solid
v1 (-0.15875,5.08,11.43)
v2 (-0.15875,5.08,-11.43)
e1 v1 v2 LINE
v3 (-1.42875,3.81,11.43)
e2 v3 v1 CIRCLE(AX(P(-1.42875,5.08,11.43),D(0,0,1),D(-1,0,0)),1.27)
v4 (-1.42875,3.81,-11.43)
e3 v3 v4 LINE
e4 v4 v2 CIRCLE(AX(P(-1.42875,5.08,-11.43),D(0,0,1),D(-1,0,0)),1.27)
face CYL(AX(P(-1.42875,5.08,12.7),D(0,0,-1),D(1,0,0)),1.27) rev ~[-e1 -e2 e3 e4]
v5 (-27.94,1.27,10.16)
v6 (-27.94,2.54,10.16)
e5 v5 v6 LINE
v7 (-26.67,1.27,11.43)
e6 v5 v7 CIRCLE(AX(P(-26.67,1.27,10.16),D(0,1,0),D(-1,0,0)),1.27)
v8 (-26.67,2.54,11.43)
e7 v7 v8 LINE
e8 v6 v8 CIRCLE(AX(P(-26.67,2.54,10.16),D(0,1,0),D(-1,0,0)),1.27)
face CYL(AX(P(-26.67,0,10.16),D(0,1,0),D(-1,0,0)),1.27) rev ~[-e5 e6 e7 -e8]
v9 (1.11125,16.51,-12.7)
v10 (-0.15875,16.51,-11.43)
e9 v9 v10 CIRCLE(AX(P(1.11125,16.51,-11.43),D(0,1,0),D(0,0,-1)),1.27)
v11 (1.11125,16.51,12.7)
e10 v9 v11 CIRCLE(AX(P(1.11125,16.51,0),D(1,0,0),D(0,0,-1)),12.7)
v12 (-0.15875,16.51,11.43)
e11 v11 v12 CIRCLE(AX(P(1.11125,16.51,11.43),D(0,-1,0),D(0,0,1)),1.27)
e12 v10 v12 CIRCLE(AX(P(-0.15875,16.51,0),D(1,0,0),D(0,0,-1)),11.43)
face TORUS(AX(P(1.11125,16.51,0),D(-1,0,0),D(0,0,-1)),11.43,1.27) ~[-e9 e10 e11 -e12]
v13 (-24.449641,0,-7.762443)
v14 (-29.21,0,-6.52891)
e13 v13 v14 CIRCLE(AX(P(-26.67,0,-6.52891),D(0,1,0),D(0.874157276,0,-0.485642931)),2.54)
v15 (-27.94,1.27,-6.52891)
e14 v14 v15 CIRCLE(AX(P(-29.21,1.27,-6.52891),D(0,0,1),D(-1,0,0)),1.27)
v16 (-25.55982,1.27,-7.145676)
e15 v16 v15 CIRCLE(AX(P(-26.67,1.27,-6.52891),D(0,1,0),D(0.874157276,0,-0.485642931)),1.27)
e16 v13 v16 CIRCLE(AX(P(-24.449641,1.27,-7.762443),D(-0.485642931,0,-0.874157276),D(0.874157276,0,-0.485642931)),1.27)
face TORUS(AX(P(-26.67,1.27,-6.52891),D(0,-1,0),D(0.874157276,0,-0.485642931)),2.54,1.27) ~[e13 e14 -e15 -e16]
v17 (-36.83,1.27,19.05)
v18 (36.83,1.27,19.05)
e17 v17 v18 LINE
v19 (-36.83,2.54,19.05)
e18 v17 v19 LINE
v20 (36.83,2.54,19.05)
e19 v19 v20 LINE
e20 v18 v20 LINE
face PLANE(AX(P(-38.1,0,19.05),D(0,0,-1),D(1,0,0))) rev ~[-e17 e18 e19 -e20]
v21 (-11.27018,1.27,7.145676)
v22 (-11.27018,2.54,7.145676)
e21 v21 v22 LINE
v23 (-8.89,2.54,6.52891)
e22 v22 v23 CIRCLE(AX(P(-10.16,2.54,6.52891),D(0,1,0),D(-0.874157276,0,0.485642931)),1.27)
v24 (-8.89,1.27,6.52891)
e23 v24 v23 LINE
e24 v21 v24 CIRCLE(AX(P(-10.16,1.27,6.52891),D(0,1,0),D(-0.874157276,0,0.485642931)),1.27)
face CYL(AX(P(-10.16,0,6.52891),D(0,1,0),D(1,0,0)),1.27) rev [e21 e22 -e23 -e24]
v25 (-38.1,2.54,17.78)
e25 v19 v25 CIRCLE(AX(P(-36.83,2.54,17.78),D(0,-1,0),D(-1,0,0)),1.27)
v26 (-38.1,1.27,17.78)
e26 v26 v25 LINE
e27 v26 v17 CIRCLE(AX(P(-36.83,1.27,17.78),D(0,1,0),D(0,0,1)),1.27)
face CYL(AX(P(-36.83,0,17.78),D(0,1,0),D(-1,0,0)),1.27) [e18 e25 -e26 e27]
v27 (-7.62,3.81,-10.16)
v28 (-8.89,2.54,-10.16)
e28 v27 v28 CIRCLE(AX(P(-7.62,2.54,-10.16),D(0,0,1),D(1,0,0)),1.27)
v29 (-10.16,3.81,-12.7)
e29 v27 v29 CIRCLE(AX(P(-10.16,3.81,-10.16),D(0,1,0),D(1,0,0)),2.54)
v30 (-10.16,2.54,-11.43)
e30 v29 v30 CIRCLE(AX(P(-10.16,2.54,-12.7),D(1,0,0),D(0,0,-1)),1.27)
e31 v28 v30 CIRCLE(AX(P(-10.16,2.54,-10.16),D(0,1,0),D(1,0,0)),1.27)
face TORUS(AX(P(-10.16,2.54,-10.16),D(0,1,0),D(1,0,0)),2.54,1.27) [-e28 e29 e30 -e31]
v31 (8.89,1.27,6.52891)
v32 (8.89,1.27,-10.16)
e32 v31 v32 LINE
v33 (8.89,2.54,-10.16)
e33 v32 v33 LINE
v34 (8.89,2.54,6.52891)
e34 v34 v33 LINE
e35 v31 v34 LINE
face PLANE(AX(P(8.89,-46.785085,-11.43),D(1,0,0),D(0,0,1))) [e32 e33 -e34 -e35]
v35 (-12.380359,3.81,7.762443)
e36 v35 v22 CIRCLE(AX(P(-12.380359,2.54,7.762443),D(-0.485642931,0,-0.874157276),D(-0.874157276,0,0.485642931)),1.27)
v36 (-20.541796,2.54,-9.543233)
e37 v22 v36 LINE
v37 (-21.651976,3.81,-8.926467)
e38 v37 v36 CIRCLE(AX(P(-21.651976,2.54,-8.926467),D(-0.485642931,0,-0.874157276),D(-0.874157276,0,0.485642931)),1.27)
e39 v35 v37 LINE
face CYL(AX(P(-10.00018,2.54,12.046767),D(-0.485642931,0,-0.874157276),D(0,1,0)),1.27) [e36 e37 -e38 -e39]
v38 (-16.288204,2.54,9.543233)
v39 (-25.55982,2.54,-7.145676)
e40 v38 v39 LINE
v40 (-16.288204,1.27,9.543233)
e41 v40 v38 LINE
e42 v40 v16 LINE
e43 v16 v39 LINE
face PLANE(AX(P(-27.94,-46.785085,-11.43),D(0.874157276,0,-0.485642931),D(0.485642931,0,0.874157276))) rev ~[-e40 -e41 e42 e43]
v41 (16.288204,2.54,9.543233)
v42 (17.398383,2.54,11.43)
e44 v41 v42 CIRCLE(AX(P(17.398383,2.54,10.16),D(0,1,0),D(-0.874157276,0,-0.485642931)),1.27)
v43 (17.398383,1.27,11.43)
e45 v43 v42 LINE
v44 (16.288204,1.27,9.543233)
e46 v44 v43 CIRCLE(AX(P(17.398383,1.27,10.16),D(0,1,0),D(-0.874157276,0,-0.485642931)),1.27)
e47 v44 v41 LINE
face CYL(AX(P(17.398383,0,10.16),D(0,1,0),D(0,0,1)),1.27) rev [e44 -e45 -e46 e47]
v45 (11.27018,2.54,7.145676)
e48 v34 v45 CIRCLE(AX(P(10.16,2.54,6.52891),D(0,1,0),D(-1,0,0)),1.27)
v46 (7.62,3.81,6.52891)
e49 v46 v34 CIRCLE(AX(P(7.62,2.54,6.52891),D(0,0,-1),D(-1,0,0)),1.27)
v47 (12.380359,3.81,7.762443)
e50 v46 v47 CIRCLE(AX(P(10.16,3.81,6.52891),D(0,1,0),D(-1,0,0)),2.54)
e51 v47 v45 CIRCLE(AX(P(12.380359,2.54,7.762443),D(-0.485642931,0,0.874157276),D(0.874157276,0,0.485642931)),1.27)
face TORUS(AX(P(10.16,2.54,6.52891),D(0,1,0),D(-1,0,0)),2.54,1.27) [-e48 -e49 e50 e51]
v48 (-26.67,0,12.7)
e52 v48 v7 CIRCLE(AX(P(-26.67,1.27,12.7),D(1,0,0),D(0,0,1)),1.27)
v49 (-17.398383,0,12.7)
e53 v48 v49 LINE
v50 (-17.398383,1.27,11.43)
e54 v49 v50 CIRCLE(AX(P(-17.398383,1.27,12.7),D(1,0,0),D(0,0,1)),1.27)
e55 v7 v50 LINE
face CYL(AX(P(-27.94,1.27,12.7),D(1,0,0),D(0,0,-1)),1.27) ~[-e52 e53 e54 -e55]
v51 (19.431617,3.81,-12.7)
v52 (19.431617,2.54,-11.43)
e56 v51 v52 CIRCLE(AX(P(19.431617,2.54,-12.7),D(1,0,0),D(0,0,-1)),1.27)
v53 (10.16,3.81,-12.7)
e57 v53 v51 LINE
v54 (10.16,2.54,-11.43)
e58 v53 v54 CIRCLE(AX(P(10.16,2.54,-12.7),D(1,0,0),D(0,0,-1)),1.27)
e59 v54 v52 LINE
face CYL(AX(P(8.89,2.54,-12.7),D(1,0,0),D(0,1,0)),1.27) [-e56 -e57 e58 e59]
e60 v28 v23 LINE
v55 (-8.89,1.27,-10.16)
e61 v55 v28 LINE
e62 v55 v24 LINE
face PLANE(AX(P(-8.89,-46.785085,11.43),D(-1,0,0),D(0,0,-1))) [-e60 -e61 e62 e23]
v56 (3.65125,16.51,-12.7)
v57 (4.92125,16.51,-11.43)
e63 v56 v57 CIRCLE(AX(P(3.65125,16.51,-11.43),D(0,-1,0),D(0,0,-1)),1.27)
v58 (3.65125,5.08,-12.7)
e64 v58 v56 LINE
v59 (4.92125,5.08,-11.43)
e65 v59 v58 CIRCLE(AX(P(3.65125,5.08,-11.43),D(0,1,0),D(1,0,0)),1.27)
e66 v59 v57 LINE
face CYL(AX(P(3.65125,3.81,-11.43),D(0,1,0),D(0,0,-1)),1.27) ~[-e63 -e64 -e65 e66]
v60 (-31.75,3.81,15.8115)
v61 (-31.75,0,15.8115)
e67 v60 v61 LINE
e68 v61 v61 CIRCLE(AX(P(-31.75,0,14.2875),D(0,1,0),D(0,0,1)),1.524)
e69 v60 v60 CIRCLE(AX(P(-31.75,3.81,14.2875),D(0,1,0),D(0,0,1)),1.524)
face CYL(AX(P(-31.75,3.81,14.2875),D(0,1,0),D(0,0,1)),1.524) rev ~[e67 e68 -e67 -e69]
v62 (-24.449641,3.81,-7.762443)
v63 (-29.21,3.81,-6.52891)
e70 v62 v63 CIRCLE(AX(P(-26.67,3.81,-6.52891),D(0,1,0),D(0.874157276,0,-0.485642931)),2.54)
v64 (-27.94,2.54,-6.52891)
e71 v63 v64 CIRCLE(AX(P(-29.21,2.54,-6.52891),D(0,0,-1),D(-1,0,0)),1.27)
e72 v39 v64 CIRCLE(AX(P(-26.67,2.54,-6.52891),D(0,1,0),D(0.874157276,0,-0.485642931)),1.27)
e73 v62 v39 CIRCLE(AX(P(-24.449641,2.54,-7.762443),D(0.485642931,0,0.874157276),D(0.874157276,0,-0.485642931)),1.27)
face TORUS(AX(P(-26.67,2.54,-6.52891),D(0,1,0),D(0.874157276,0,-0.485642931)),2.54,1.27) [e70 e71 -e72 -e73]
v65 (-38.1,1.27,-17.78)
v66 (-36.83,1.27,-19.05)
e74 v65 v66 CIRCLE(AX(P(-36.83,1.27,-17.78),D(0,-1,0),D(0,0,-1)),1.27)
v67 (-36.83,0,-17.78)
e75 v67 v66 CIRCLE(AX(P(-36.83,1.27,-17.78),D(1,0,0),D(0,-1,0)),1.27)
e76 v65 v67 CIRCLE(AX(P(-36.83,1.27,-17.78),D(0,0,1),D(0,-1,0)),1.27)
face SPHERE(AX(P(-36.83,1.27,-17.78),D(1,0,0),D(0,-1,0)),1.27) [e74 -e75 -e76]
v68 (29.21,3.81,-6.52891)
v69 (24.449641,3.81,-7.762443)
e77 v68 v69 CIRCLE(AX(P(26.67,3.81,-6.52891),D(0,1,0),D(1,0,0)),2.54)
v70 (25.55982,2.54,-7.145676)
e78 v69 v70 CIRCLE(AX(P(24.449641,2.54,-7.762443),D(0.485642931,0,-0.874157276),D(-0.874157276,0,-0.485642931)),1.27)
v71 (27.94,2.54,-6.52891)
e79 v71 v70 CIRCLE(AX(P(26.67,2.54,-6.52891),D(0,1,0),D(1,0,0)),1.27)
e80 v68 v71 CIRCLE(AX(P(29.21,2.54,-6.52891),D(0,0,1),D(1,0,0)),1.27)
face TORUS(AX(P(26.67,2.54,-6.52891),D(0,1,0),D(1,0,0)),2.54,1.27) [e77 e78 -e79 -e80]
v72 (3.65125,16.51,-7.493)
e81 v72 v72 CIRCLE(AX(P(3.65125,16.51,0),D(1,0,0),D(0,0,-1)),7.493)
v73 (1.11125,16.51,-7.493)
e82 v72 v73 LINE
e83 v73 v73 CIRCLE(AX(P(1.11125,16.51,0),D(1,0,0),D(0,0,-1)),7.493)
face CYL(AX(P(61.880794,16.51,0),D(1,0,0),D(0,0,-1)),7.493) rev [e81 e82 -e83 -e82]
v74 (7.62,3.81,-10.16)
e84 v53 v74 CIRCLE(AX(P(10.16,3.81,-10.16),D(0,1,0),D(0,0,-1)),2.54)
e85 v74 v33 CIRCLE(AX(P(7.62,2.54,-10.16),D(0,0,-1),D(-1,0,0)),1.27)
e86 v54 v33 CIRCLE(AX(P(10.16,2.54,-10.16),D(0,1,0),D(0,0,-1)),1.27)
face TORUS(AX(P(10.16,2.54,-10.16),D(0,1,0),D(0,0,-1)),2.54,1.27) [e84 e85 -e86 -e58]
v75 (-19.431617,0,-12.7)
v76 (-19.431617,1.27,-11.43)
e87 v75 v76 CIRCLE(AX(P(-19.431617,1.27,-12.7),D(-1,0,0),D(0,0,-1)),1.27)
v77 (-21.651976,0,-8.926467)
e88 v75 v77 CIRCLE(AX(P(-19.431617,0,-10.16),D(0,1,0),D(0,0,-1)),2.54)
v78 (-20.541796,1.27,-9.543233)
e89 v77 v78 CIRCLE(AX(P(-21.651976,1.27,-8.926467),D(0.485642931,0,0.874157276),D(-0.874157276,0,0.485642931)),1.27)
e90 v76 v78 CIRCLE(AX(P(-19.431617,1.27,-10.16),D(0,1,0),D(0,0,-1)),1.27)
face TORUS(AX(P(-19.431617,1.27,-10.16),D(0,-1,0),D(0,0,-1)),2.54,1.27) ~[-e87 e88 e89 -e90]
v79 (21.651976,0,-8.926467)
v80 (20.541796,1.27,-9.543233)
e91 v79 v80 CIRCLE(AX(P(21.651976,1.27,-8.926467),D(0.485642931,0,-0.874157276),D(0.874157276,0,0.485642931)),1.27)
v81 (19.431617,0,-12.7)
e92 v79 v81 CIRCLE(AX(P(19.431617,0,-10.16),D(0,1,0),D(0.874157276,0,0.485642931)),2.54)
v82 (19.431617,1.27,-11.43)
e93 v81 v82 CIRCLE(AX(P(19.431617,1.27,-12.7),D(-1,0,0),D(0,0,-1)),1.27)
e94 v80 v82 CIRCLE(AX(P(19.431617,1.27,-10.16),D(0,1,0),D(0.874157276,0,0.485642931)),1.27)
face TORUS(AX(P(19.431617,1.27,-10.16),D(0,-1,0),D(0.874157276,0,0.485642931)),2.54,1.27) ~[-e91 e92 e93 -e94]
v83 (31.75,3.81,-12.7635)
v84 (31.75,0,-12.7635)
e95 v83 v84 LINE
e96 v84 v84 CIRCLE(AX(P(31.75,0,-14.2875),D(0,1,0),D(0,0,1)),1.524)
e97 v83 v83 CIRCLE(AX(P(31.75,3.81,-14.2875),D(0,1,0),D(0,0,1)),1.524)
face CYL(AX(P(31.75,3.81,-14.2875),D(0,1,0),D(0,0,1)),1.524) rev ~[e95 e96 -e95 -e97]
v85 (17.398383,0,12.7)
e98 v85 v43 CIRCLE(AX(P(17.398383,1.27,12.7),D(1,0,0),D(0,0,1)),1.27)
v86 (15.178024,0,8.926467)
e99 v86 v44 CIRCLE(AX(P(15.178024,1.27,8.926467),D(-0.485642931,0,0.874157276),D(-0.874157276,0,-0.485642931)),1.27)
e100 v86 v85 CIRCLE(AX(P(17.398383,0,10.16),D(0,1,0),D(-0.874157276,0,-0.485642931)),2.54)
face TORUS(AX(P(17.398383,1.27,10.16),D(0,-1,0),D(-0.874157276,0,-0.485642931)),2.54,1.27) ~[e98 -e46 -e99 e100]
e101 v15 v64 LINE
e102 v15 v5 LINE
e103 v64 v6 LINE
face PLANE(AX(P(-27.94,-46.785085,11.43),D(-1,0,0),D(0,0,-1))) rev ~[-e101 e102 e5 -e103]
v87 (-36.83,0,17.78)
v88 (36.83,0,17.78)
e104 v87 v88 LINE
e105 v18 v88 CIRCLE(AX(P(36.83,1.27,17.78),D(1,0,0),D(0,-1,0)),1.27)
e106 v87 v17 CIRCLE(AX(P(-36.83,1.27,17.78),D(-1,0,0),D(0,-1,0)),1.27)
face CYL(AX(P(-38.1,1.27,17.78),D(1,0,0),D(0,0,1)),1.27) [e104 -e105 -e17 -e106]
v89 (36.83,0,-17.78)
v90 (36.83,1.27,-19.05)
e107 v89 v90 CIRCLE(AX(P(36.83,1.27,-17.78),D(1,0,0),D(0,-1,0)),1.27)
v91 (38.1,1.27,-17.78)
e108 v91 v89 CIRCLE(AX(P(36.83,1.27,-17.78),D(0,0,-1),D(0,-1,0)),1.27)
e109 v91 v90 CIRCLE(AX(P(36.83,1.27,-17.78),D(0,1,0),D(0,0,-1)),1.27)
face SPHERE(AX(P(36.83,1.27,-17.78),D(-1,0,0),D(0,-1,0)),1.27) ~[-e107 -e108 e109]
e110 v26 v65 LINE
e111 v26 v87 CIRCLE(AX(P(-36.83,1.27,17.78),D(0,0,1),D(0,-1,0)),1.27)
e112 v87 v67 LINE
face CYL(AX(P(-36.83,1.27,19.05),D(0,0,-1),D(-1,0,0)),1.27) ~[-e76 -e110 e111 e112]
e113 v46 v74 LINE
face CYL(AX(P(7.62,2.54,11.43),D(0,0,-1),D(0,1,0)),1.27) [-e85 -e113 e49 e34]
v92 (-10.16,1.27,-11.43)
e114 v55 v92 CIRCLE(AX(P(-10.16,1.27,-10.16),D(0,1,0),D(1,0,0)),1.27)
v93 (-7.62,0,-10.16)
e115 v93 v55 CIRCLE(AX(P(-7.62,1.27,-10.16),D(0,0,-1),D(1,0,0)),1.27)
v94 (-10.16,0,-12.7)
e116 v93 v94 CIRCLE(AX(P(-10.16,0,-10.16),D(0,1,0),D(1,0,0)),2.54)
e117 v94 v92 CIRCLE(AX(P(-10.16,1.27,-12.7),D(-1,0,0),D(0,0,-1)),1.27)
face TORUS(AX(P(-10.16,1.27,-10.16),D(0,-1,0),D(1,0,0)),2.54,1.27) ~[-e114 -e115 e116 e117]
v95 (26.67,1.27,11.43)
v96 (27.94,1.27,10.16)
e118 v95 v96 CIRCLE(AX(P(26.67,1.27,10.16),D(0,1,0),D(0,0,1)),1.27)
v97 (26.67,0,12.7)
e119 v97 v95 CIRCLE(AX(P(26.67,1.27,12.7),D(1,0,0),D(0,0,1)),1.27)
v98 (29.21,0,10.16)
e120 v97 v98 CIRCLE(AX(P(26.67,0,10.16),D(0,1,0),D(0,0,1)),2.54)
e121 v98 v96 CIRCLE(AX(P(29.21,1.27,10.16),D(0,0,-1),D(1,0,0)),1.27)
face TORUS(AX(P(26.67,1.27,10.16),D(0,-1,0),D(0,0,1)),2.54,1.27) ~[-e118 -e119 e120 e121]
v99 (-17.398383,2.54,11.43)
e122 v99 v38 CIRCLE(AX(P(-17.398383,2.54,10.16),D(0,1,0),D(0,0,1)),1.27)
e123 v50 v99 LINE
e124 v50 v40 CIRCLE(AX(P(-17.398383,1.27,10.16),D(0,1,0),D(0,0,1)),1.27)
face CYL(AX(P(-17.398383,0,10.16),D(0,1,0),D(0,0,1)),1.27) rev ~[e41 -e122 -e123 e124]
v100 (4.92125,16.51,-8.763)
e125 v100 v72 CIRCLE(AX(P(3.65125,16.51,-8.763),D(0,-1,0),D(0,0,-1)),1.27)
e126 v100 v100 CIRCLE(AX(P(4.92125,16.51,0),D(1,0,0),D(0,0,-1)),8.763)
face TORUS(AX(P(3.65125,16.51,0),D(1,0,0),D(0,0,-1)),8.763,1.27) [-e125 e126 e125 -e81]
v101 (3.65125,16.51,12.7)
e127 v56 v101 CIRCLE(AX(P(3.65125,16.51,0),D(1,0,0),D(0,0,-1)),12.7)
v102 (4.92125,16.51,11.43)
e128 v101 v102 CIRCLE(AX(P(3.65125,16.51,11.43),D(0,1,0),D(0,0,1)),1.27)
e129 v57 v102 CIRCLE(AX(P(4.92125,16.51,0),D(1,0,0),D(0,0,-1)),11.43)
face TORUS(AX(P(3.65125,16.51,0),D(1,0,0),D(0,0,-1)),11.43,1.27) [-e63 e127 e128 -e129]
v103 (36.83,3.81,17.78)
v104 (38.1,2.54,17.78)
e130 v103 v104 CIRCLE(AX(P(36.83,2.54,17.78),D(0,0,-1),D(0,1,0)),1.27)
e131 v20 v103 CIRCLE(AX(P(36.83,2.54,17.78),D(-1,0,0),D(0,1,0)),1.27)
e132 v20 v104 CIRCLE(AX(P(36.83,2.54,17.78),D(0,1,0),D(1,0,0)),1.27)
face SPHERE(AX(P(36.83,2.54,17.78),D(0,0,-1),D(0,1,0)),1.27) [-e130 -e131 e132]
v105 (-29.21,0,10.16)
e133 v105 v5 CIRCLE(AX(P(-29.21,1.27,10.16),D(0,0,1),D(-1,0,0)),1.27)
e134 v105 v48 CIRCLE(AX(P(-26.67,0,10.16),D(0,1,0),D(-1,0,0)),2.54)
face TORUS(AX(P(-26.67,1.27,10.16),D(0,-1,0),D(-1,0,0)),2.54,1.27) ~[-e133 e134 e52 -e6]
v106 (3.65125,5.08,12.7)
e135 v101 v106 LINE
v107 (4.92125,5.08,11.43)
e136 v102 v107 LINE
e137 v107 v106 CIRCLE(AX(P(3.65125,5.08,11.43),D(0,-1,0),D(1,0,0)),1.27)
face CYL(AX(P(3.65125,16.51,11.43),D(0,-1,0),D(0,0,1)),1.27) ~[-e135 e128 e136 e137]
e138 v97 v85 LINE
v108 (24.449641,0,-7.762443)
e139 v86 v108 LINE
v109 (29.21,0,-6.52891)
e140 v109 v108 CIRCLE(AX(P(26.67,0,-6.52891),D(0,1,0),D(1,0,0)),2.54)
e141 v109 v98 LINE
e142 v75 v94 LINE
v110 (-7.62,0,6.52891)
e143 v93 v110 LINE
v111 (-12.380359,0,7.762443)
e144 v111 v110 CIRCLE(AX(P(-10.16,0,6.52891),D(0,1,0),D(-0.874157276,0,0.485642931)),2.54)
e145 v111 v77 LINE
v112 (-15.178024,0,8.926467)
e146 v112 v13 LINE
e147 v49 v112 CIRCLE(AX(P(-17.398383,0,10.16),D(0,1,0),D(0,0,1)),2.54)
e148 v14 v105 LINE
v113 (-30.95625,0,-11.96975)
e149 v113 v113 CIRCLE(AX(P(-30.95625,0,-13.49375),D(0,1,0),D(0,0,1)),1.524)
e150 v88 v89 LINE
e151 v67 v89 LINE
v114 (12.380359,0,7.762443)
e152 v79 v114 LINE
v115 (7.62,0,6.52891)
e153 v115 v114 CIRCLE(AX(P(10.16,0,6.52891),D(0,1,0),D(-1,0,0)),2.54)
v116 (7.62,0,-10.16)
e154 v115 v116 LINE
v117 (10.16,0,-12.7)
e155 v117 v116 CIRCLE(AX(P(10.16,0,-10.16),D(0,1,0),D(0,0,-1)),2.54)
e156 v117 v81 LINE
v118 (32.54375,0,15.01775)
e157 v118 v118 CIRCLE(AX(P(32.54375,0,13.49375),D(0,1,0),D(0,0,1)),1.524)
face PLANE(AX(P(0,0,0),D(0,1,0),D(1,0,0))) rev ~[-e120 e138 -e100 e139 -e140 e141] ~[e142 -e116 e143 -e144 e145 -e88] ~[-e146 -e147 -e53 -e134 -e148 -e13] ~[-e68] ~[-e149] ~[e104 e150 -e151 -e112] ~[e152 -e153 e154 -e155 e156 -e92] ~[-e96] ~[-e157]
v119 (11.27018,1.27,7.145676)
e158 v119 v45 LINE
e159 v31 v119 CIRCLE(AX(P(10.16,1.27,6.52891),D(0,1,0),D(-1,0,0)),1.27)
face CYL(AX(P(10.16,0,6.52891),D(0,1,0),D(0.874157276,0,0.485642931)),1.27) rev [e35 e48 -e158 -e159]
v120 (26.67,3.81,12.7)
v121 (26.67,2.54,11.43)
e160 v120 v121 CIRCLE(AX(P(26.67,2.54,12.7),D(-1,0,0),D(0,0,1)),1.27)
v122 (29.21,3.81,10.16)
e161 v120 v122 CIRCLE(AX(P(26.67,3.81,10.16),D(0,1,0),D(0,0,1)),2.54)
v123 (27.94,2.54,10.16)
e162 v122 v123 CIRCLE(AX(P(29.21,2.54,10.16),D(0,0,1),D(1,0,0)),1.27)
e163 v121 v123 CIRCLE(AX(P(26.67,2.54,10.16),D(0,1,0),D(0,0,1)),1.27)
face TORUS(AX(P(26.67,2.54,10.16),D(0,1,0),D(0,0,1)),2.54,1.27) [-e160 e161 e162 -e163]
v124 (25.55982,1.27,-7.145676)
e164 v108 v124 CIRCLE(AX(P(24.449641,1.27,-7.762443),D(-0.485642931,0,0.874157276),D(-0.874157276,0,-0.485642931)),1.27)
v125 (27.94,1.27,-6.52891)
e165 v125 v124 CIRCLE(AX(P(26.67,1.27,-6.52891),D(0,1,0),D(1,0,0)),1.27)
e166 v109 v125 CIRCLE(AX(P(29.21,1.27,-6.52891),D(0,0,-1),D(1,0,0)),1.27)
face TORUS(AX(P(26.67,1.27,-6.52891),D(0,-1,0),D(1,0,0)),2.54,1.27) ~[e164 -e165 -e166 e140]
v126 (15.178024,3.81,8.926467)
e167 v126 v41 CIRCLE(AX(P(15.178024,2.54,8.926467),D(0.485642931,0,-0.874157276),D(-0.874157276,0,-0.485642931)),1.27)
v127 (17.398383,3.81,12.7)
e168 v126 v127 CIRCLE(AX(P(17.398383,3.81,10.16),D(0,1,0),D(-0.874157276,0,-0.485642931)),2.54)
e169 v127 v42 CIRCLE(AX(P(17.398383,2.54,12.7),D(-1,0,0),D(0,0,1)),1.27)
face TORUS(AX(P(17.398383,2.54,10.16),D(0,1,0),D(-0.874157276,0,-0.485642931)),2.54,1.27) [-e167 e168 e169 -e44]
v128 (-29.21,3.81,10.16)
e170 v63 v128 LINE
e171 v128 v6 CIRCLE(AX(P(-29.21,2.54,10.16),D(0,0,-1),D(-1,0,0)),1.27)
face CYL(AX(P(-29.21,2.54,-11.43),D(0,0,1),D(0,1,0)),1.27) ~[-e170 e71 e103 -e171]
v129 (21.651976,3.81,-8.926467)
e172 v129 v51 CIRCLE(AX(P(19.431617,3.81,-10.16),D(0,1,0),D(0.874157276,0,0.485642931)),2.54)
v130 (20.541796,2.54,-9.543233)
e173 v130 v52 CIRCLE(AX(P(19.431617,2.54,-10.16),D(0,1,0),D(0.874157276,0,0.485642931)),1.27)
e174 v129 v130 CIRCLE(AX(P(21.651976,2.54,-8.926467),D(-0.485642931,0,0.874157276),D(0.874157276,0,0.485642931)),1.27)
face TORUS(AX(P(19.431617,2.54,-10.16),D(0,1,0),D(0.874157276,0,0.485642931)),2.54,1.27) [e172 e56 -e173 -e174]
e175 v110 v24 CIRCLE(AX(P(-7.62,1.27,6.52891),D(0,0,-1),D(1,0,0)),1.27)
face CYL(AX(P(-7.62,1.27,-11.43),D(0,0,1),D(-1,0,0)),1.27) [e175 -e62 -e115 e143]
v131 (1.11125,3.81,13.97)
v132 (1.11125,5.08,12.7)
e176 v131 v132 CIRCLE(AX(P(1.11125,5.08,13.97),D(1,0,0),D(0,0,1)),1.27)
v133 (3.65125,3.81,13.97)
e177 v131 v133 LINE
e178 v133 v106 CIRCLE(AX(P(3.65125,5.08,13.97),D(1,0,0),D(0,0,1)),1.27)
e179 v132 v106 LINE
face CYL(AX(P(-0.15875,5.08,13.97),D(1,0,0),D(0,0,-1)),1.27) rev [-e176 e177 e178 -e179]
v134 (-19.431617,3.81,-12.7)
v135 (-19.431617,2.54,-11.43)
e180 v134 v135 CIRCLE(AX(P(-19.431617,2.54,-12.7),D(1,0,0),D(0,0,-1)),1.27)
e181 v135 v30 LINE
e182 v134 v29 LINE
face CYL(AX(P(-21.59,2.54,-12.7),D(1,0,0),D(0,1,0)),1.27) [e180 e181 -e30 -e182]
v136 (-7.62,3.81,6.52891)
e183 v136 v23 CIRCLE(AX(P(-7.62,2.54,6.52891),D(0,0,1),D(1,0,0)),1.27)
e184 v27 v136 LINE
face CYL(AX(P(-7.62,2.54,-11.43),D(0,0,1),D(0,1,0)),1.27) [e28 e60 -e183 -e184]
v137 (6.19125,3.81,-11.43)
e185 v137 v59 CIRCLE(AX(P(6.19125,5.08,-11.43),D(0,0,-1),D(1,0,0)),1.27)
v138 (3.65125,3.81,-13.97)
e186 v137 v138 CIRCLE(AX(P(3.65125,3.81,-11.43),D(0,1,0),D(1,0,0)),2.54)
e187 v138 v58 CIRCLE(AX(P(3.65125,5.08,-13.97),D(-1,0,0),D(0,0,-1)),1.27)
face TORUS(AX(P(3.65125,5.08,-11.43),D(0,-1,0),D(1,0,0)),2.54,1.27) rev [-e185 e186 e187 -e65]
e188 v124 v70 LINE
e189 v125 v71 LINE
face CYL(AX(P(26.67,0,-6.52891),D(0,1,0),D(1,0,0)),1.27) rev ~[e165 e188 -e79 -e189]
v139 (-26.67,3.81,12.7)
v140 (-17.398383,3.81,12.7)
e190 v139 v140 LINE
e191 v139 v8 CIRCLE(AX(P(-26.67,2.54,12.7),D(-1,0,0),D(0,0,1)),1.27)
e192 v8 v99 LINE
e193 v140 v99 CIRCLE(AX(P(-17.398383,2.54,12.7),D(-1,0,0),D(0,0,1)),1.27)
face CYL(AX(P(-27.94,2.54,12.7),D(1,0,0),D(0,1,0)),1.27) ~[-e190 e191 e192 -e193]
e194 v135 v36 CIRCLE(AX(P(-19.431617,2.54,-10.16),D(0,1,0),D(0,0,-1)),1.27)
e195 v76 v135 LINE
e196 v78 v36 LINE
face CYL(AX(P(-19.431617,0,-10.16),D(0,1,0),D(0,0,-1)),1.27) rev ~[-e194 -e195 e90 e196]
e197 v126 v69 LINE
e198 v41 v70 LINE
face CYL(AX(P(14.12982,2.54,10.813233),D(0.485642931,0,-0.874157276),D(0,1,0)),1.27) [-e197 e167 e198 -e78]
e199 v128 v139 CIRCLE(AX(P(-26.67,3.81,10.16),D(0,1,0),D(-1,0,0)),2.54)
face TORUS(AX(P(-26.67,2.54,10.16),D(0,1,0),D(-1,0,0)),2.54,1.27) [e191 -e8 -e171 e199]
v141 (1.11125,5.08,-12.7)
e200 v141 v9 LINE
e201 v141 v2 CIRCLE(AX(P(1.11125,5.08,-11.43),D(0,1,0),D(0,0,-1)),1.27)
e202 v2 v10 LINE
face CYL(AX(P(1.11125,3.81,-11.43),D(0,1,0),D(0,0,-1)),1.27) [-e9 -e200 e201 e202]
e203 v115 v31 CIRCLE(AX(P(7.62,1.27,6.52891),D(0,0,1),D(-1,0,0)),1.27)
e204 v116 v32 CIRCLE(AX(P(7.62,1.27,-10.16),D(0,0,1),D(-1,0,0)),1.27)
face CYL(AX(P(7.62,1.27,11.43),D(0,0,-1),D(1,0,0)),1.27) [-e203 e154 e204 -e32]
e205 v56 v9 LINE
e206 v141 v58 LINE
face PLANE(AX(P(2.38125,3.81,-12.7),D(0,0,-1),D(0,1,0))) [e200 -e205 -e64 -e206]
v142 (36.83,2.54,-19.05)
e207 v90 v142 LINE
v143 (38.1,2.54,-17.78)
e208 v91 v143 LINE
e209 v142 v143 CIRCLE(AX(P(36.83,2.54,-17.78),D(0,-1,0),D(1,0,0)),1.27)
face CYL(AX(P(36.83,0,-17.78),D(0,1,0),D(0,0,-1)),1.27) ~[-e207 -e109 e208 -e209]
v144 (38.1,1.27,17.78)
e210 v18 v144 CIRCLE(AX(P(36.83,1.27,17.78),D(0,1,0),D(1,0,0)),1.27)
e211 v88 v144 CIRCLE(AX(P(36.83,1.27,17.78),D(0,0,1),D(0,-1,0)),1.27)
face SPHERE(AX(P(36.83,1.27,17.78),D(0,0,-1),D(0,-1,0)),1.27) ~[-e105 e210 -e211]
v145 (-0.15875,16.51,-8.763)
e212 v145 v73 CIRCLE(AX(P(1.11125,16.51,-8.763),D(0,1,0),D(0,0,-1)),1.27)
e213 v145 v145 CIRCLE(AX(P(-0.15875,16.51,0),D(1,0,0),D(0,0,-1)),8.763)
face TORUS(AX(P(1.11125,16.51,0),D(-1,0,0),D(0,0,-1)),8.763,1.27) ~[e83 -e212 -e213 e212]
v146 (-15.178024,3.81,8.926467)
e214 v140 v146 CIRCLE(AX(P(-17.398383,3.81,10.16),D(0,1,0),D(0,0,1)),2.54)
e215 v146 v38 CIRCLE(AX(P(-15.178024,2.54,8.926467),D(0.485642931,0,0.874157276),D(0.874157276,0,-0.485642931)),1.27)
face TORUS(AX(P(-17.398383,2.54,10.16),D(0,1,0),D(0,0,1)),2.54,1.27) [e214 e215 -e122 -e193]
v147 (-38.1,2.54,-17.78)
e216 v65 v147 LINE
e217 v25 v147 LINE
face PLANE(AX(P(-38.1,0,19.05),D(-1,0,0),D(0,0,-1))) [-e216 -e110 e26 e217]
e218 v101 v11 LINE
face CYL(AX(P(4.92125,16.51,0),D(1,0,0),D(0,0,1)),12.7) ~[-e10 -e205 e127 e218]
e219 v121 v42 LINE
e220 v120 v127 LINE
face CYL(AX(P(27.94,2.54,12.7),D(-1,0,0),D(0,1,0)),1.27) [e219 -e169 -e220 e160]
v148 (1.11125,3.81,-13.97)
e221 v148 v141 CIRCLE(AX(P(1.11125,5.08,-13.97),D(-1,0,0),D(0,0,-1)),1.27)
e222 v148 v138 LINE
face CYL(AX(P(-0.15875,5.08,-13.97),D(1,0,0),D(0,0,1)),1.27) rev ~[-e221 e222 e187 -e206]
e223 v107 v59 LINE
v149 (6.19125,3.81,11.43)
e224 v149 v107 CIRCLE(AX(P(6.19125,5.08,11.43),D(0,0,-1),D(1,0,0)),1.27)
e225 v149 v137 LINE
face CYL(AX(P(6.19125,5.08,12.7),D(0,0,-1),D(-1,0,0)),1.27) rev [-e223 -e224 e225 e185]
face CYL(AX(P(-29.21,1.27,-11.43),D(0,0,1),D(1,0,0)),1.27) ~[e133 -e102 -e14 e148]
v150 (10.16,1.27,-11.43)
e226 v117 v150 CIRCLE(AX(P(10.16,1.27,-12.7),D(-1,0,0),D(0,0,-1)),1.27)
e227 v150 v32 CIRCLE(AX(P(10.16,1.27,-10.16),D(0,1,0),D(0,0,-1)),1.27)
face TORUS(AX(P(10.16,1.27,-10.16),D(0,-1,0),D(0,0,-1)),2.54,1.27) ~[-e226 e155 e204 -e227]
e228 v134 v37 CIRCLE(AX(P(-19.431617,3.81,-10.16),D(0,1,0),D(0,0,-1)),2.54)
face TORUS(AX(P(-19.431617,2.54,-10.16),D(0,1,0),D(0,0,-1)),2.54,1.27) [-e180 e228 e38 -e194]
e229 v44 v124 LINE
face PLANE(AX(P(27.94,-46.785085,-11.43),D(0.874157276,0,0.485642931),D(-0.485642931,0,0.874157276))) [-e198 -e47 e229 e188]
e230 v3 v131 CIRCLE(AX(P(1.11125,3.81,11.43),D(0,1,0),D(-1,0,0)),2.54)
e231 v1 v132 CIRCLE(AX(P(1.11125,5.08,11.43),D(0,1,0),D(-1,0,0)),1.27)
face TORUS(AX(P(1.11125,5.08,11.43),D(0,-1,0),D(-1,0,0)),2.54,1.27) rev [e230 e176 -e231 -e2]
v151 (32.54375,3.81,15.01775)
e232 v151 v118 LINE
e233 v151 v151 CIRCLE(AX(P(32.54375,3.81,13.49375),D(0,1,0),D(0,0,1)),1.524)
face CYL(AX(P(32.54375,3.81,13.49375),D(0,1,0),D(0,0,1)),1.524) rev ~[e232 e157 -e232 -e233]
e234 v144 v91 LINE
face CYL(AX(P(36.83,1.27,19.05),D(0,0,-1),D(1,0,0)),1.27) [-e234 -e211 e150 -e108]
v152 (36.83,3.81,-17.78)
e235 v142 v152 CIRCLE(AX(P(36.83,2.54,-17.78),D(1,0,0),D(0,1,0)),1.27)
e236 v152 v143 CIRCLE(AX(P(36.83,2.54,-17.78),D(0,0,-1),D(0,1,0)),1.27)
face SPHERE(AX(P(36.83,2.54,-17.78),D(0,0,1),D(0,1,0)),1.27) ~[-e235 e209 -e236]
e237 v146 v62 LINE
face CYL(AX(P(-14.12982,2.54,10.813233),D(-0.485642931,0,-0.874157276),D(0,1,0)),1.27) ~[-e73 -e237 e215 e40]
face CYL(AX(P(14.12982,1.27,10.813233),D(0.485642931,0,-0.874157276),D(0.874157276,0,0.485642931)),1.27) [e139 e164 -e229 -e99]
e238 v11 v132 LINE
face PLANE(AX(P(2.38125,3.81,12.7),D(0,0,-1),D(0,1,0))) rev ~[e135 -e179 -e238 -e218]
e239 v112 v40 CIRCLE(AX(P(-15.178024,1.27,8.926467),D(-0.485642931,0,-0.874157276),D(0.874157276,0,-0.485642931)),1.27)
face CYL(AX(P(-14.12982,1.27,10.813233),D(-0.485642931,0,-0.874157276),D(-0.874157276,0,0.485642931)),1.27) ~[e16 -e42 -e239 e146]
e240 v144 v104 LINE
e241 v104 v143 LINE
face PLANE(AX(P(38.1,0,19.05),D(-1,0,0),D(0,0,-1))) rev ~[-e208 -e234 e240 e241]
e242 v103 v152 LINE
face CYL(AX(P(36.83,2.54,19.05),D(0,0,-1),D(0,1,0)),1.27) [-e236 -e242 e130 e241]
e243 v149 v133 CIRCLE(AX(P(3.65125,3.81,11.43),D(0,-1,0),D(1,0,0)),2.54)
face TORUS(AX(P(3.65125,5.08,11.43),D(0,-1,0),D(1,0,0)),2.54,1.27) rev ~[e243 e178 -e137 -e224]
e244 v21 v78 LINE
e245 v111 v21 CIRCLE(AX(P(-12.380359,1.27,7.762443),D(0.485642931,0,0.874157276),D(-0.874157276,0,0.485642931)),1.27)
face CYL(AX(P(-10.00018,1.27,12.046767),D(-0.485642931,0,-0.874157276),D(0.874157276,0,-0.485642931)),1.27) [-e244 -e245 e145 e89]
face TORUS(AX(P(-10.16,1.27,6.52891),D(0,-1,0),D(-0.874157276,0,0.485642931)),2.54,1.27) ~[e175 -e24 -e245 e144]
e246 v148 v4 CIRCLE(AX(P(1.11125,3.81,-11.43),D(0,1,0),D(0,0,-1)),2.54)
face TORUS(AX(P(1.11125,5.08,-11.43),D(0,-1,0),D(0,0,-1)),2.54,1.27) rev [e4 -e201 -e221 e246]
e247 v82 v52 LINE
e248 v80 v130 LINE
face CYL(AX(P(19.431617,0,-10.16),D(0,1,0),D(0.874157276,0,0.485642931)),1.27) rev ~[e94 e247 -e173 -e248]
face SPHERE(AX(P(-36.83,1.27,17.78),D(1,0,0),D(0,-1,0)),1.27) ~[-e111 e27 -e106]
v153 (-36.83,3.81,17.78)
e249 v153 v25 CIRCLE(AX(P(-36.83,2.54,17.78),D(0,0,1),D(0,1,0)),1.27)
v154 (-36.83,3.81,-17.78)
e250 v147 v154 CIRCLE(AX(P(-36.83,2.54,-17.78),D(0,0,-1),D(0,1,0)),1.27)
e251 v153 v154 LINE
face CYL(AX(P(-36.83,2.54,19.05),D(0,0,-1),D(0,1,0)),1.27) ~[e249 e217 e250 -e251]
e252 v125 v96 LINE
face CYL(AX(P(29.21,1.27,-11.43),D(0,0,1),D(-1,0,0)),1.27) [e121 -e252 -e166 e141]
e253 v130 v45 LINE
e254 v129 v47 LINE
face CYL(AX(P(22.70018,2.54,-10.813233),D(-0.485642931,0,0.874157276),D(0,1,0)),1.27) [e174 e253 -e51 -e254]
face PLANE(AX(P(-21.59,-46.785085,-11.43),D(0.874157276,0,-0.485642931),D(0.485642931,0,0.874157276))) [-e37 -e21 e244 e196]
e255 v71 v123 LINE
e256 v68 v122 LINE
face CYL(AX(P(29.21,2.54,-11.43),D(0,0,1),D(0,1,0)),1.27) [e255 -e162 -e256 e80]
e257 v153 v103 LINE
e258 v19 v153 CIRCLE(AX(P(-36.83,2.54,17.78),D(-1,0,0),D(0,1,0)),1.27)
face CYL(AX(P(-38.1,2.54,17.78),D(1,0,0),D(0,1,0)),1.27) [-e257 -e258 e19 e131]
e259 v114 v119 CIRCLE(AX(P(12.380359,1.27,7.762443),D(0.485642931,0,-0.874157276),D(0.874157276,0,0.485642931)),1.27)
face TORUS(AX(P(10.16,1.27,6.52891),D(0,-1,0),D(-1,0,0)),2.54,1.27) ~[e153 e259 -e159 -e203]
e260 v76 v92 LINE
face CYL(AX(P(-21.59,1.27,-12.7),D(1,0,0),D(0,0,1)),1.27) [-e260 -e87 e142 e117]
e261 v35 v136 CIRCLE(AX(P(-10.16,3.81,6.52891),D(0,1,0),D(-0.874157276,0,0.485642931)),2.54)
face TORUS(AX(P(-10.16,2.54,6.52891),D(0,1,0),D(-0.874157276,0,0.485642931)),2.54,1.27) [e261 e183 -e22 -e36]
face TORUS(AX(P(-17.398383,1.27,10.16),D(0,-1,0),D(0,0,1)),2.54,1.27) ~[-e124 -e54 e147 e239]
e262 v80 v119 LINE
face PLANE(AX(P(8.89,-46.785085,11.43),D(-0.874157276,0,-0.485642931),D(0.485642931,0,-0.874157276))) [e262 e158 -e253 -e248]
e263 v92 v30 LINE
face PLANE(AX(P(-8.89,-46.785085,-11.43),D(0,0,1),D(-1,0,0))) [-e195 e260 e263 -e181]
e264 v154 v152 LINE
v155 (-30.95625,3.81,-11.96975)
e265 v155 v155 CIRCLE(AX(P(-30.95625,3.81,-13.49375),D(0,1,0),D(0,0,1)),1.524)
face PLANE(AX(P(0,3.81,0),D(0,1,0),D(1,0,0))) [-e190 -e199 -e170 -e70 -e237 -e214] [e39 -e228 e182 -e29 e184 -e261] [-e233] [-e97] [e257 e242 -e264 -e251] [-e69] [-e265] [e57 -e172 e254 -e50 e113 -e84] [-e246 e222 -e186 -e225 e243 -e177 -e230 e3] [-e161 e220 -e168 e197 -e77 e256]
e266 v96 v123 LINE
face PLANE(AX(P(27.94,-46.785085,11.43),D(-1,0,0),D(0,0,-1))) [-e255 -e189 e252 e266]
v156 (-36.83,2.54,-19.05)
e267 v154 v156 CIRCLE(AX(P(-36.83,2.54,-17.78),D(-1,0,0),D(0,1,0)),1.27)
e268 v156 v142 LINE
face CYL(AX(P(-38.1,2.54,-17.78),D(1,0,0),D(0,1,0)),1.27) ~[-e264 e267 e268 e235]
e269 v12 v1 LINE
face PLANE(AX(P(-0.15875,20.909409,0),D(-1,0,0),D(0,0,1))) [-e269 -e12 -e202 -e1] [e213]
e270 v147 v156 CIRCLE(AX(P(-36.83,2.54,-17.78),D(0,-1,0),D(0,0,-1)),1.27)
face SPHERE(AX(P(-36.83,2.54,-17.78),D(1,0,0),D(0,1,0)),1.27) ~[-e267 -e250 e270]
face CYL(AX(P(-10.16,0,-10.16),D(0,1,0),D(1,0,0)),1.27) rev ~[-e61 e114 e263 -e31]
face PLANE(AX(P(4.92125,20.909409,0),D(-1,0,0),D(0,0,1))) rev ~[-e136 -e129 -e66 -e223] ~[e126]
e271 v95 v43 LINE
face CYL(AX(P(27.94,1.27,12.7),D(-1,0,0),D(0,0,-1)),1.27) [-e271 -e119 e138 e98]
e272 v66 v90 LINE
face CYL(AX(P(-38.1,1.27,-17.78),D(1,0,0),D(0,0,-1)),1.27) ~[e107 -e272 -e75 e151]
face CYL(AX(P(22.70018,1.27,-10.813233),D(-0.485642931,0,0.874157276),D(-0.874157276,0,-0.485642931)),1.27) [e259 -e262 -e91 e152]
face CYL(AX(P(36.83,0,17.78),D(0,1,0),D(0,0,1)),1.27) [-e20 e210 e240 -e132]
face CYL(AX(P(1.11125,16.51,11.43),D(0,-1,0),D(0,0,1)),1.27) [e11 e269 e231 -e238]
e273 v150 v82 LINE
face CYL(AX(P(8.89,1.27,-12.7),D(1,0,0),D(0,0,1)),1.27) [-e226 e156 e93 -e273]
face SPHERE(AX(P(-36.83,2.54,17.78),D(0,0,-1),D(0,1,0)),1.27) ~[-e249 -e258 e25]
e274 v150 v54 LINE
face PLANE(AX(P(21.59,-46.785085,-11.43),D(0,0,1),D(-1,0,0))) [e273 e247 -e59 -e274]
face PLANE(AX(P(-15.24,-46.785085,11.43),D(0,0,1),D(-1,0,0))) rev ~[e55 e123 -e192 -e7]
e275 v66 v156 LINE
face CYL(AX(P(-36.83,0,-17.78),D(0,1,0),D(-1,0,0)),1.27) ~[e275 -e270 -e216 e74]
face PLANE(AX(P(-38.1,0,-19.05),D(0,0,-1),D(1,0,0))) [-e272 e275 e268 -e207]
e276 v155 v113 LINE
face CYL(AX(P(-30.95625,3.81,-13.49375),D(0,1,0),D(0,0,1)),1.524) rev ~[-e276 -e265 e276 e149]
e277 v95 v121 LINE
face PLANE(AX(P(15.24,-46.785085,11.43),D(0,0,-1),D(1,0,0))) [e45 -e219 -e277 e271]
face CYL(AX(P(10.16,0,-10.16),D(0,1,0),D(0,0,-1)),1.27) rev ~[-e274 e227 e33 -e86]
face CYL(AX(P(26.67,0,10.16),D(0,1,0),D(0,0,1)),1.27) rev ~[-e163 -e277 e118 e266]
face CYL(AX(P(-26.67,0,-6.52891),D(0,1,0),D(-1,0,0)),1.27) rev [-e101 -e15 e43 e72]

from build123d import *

# Parameters (mm, degrees)
SKETCH1_W               = 76.2
SKETCH1_H               = 38.1
BOSS_EXTRUDE1_DEPTH     = 3.81
SKETCH2_R               = 1.524
CUT_EXTRUDE1_DEPTH      = 43.767143931
SKETCH4_W               = 25.4
SKETCH4_H               = 12.7
BOSS_EXTRUDE2_DEPTH     = 2.54
BOSS_EXTRUDE3_DEPTH     = 5.08
CUT_EXTRUDE2_DEPTH      = 56.959543883
CUT_EXTRUDE2_DEPTH_BACK = 56.959543883
SKETCH6_R               = 7.493
FILLET1_R               = 1.27
CUT_EXTRUDE4_DEPTH      = 50.595085493
CUT_EXTRUDE4_DEPTH_BACK = 50.595085493
FILLET2_R               = 1.27


with BuildPart() as part:
    # Sketch1 → Boss-Extrude1 (new body)
    with BuildSketch(Plane(origin=(0, 0, 0), x_dir=(1, 0, 0), z_dir=(0, 1, 0))):
        Rectangle(SKETCH1_W, SKETCH1_H)
    extrude(amount=BOSS_EXTRUDE1_DEPTH)

    # Sketch2 → Cut-Extrude1 (cut, through all)
    with BuildSketch(Plane(origin=(0, 3.81, 0), x_dir=(1, 0, 0), z_dir=(0, 1, 0))):
        with Locations(Location((31.75, 14.2875, 0), (0, 0, 270))):
            Circle(SKETCH2_R)
        with Locations(Location((32.54375, -13.49375, 0), (0, 0, 270))):
            Circle(SKETCH2_R)
        with Locations(Location((-31.75, -14.2875, 0), (0, 0, 270))):
            Circle(SKETCH2_R)
        with Locations(Location((-30.95625, 13.49375, 0), (0, 0, 270))):
            Circle(SKETCH2_R)
    extrude(amount=-CUT_EXTRUDE1_DEPTH, mode=Mode.SUBTRACT)

    # Sketch4 → Boss-Extrude2 (add, symmetric)
    with BuildSketch(Plane(origin=(2.38125, 0, 0), x_dir=(0, 0, -1), z_dir=(1, 0, 0))):
        with Locations((0, 10.16)):
            Rectangle(SKETCH4_W, SKETCH4_H)
    extrude(amount=BOSS_EXTRUDE2_DEPTH, both=True)

    # Sketch5 → Boss-Extrude3 (add)
    with BuildSketch(Plane(origin=(4.92125, 16.51, -12.7), x_dir=(0, 0, 1), z_dir=(-1, 0, 0))):
        with BuildLine():
            Line((0, 0), (25.4, 0))
            ThreePointArc((25.4, 0), (12.7, 12.7), (0, 0))
        make_face()
    extrude(amount=BOSS_EXTRUDE3_DEPTH)

    # Sketch6 → Cut-Extrude2 (cut, two sides: drawn at the far end of the back side and taken through both)
    with BuildSketch(Plane(origin=(4.92125, 16.51, -12.7), x_dir=(0, 0, 1), z_dir=(-1, 0, 0)).offset(-CUT_EXTRUDE2_DEPTH_BACK)):
        with Locations(Location((12.7, 0, 0), (0, 0, 180))):
            Circle(SKETCH6_R)
    extrude(amount=CUT_EXTRUDE2_DEPTH + CUT_EXTRUDE2_DEPTH_BACK, mode=Mode.SUBTRACT)

    # Fillet1
    fillet1_edges = [part.edges().sort_by_distance(p)[0] for p in [
        (38.1, 3.81, 0),
        (0, 3.81, -19.05),
        (-0.15875, 10.16, -12.7),
        (2.38125, 3.81, -12.7),
        (-0.15875, 10.16, 12.7),
        (-0.15875, 3.81, 0),
        (2.38125, 3.81, 12.7),
        (4.92125, 10.16, -12.7),
        (4.92125, 10.16, 12.7),
        (4.92125, 3.81, 0),
        (-38.1, 3.81, 0),
        (-0.15875, 29.21, 0),
        (4.92125, 29.21, 0),
        (0, 0, -19.05),
        (38.1, 0, 0),
        (4.92125, 16.51, 7.493),
        (-0.15875, 16.51, 7.493),
        (0, 0, 19.05),
        (-38.1, 0, 0),
        (0, 3.81, 19.05),
        (-38.1, 1.905, -19.05),
        (38.1, 1.905, -19.05),
        (38.1, 1.905, 19.05),
        (-38.1, 1.905, 19.05),
    ]]
    fillet(fillet1_edges, radius=FILLET1_R)

    # Sketch10 → Cut-Extrude4 (cut, two sides: drawn at the far end of the back side and taken through both)
    with BuildSketch(Plane(origin=(0, 3.81, 0), x_dir=(1, 0, 0), z_dir=(0, 1, 0)).offset(-CUT_EXTRUDE4_DEPTH_BACK)):
        Polygon((-27.94, -11.43), (-27.94, 11.43), (-15.24, -11.43), align=None)
        Polygon((27.94, 11.43), (15.24, -11.43), (27.94, -11.43), align=None)
        Polygon((-21.59, 11.43), (-8.89, -11.43), (-8.89, 11.43), align=None)
        Polygon((8.89, 11.43), (8.89, -11.43), (21.59, 11.43), align=None)
    extrude(amount=CUT_EXTRUDE4_DEPTH + CUT_EXTRUDE4_DEPTH_BACK, mode=Mode.SUBTRACT)

    # Fillet2
    fillet2_edges = [part.edges().sort_by_distance(p)[0] for p in [
        (-21.59, 1.905, -11.43),
        (-15.24, 3.81, -11.43),
        (-15.24, 0, -11.43),
        (-8.89, 1.905, -11.43),
        (-8.89, 3.81, 0),
        (-8.89, 0, 0),
        (-8.89, 1.905, 11.43),
        (-15.24, 3.81, 0),
        (-15.24, 0, 0),
        (8.89, 1.905, -11.43),
        (15.24, 3.81, -11.43),
        (15.24, 0, -11.43),
        (21.59, 1.905, -11.43),
        (15.24, 3.81, 0),
        (15.24, 0, 0),
        (8.89, 1.905, 11.43),
        (8.89, 3.81, 0),
        (8.89, 0, 0),
        (27.94, 1.905, -11.43),
        (27.94, 3.81, 0),
        (27.94, 0, 0),
        (27.94, 1.905, 11.43),
        (21.59, 3.81, 11.43),
        (21.59, 0, 11.43),
        (15.24, 1.905, 11.43),
        (21.59, 3.81, 0),
        (21.59, 0, 0),
        (-15.24, 1.905, 11.43),
        (-21.59, 3.81, 11.43),
        (-21.59, 0, 11.43),
        (-27.94, 1.905, 11.43),
        (-27.94, 3.81, 0),
        (-27.94, 0, 0),
        (-27.94, 1.905, -11.43),
        (-21.59, 3.81, 0),
        (-21.59, 0, 0),
    ]]
    fillet(fillet2_edges, radius=FILLET2_R)


solid = part.part
